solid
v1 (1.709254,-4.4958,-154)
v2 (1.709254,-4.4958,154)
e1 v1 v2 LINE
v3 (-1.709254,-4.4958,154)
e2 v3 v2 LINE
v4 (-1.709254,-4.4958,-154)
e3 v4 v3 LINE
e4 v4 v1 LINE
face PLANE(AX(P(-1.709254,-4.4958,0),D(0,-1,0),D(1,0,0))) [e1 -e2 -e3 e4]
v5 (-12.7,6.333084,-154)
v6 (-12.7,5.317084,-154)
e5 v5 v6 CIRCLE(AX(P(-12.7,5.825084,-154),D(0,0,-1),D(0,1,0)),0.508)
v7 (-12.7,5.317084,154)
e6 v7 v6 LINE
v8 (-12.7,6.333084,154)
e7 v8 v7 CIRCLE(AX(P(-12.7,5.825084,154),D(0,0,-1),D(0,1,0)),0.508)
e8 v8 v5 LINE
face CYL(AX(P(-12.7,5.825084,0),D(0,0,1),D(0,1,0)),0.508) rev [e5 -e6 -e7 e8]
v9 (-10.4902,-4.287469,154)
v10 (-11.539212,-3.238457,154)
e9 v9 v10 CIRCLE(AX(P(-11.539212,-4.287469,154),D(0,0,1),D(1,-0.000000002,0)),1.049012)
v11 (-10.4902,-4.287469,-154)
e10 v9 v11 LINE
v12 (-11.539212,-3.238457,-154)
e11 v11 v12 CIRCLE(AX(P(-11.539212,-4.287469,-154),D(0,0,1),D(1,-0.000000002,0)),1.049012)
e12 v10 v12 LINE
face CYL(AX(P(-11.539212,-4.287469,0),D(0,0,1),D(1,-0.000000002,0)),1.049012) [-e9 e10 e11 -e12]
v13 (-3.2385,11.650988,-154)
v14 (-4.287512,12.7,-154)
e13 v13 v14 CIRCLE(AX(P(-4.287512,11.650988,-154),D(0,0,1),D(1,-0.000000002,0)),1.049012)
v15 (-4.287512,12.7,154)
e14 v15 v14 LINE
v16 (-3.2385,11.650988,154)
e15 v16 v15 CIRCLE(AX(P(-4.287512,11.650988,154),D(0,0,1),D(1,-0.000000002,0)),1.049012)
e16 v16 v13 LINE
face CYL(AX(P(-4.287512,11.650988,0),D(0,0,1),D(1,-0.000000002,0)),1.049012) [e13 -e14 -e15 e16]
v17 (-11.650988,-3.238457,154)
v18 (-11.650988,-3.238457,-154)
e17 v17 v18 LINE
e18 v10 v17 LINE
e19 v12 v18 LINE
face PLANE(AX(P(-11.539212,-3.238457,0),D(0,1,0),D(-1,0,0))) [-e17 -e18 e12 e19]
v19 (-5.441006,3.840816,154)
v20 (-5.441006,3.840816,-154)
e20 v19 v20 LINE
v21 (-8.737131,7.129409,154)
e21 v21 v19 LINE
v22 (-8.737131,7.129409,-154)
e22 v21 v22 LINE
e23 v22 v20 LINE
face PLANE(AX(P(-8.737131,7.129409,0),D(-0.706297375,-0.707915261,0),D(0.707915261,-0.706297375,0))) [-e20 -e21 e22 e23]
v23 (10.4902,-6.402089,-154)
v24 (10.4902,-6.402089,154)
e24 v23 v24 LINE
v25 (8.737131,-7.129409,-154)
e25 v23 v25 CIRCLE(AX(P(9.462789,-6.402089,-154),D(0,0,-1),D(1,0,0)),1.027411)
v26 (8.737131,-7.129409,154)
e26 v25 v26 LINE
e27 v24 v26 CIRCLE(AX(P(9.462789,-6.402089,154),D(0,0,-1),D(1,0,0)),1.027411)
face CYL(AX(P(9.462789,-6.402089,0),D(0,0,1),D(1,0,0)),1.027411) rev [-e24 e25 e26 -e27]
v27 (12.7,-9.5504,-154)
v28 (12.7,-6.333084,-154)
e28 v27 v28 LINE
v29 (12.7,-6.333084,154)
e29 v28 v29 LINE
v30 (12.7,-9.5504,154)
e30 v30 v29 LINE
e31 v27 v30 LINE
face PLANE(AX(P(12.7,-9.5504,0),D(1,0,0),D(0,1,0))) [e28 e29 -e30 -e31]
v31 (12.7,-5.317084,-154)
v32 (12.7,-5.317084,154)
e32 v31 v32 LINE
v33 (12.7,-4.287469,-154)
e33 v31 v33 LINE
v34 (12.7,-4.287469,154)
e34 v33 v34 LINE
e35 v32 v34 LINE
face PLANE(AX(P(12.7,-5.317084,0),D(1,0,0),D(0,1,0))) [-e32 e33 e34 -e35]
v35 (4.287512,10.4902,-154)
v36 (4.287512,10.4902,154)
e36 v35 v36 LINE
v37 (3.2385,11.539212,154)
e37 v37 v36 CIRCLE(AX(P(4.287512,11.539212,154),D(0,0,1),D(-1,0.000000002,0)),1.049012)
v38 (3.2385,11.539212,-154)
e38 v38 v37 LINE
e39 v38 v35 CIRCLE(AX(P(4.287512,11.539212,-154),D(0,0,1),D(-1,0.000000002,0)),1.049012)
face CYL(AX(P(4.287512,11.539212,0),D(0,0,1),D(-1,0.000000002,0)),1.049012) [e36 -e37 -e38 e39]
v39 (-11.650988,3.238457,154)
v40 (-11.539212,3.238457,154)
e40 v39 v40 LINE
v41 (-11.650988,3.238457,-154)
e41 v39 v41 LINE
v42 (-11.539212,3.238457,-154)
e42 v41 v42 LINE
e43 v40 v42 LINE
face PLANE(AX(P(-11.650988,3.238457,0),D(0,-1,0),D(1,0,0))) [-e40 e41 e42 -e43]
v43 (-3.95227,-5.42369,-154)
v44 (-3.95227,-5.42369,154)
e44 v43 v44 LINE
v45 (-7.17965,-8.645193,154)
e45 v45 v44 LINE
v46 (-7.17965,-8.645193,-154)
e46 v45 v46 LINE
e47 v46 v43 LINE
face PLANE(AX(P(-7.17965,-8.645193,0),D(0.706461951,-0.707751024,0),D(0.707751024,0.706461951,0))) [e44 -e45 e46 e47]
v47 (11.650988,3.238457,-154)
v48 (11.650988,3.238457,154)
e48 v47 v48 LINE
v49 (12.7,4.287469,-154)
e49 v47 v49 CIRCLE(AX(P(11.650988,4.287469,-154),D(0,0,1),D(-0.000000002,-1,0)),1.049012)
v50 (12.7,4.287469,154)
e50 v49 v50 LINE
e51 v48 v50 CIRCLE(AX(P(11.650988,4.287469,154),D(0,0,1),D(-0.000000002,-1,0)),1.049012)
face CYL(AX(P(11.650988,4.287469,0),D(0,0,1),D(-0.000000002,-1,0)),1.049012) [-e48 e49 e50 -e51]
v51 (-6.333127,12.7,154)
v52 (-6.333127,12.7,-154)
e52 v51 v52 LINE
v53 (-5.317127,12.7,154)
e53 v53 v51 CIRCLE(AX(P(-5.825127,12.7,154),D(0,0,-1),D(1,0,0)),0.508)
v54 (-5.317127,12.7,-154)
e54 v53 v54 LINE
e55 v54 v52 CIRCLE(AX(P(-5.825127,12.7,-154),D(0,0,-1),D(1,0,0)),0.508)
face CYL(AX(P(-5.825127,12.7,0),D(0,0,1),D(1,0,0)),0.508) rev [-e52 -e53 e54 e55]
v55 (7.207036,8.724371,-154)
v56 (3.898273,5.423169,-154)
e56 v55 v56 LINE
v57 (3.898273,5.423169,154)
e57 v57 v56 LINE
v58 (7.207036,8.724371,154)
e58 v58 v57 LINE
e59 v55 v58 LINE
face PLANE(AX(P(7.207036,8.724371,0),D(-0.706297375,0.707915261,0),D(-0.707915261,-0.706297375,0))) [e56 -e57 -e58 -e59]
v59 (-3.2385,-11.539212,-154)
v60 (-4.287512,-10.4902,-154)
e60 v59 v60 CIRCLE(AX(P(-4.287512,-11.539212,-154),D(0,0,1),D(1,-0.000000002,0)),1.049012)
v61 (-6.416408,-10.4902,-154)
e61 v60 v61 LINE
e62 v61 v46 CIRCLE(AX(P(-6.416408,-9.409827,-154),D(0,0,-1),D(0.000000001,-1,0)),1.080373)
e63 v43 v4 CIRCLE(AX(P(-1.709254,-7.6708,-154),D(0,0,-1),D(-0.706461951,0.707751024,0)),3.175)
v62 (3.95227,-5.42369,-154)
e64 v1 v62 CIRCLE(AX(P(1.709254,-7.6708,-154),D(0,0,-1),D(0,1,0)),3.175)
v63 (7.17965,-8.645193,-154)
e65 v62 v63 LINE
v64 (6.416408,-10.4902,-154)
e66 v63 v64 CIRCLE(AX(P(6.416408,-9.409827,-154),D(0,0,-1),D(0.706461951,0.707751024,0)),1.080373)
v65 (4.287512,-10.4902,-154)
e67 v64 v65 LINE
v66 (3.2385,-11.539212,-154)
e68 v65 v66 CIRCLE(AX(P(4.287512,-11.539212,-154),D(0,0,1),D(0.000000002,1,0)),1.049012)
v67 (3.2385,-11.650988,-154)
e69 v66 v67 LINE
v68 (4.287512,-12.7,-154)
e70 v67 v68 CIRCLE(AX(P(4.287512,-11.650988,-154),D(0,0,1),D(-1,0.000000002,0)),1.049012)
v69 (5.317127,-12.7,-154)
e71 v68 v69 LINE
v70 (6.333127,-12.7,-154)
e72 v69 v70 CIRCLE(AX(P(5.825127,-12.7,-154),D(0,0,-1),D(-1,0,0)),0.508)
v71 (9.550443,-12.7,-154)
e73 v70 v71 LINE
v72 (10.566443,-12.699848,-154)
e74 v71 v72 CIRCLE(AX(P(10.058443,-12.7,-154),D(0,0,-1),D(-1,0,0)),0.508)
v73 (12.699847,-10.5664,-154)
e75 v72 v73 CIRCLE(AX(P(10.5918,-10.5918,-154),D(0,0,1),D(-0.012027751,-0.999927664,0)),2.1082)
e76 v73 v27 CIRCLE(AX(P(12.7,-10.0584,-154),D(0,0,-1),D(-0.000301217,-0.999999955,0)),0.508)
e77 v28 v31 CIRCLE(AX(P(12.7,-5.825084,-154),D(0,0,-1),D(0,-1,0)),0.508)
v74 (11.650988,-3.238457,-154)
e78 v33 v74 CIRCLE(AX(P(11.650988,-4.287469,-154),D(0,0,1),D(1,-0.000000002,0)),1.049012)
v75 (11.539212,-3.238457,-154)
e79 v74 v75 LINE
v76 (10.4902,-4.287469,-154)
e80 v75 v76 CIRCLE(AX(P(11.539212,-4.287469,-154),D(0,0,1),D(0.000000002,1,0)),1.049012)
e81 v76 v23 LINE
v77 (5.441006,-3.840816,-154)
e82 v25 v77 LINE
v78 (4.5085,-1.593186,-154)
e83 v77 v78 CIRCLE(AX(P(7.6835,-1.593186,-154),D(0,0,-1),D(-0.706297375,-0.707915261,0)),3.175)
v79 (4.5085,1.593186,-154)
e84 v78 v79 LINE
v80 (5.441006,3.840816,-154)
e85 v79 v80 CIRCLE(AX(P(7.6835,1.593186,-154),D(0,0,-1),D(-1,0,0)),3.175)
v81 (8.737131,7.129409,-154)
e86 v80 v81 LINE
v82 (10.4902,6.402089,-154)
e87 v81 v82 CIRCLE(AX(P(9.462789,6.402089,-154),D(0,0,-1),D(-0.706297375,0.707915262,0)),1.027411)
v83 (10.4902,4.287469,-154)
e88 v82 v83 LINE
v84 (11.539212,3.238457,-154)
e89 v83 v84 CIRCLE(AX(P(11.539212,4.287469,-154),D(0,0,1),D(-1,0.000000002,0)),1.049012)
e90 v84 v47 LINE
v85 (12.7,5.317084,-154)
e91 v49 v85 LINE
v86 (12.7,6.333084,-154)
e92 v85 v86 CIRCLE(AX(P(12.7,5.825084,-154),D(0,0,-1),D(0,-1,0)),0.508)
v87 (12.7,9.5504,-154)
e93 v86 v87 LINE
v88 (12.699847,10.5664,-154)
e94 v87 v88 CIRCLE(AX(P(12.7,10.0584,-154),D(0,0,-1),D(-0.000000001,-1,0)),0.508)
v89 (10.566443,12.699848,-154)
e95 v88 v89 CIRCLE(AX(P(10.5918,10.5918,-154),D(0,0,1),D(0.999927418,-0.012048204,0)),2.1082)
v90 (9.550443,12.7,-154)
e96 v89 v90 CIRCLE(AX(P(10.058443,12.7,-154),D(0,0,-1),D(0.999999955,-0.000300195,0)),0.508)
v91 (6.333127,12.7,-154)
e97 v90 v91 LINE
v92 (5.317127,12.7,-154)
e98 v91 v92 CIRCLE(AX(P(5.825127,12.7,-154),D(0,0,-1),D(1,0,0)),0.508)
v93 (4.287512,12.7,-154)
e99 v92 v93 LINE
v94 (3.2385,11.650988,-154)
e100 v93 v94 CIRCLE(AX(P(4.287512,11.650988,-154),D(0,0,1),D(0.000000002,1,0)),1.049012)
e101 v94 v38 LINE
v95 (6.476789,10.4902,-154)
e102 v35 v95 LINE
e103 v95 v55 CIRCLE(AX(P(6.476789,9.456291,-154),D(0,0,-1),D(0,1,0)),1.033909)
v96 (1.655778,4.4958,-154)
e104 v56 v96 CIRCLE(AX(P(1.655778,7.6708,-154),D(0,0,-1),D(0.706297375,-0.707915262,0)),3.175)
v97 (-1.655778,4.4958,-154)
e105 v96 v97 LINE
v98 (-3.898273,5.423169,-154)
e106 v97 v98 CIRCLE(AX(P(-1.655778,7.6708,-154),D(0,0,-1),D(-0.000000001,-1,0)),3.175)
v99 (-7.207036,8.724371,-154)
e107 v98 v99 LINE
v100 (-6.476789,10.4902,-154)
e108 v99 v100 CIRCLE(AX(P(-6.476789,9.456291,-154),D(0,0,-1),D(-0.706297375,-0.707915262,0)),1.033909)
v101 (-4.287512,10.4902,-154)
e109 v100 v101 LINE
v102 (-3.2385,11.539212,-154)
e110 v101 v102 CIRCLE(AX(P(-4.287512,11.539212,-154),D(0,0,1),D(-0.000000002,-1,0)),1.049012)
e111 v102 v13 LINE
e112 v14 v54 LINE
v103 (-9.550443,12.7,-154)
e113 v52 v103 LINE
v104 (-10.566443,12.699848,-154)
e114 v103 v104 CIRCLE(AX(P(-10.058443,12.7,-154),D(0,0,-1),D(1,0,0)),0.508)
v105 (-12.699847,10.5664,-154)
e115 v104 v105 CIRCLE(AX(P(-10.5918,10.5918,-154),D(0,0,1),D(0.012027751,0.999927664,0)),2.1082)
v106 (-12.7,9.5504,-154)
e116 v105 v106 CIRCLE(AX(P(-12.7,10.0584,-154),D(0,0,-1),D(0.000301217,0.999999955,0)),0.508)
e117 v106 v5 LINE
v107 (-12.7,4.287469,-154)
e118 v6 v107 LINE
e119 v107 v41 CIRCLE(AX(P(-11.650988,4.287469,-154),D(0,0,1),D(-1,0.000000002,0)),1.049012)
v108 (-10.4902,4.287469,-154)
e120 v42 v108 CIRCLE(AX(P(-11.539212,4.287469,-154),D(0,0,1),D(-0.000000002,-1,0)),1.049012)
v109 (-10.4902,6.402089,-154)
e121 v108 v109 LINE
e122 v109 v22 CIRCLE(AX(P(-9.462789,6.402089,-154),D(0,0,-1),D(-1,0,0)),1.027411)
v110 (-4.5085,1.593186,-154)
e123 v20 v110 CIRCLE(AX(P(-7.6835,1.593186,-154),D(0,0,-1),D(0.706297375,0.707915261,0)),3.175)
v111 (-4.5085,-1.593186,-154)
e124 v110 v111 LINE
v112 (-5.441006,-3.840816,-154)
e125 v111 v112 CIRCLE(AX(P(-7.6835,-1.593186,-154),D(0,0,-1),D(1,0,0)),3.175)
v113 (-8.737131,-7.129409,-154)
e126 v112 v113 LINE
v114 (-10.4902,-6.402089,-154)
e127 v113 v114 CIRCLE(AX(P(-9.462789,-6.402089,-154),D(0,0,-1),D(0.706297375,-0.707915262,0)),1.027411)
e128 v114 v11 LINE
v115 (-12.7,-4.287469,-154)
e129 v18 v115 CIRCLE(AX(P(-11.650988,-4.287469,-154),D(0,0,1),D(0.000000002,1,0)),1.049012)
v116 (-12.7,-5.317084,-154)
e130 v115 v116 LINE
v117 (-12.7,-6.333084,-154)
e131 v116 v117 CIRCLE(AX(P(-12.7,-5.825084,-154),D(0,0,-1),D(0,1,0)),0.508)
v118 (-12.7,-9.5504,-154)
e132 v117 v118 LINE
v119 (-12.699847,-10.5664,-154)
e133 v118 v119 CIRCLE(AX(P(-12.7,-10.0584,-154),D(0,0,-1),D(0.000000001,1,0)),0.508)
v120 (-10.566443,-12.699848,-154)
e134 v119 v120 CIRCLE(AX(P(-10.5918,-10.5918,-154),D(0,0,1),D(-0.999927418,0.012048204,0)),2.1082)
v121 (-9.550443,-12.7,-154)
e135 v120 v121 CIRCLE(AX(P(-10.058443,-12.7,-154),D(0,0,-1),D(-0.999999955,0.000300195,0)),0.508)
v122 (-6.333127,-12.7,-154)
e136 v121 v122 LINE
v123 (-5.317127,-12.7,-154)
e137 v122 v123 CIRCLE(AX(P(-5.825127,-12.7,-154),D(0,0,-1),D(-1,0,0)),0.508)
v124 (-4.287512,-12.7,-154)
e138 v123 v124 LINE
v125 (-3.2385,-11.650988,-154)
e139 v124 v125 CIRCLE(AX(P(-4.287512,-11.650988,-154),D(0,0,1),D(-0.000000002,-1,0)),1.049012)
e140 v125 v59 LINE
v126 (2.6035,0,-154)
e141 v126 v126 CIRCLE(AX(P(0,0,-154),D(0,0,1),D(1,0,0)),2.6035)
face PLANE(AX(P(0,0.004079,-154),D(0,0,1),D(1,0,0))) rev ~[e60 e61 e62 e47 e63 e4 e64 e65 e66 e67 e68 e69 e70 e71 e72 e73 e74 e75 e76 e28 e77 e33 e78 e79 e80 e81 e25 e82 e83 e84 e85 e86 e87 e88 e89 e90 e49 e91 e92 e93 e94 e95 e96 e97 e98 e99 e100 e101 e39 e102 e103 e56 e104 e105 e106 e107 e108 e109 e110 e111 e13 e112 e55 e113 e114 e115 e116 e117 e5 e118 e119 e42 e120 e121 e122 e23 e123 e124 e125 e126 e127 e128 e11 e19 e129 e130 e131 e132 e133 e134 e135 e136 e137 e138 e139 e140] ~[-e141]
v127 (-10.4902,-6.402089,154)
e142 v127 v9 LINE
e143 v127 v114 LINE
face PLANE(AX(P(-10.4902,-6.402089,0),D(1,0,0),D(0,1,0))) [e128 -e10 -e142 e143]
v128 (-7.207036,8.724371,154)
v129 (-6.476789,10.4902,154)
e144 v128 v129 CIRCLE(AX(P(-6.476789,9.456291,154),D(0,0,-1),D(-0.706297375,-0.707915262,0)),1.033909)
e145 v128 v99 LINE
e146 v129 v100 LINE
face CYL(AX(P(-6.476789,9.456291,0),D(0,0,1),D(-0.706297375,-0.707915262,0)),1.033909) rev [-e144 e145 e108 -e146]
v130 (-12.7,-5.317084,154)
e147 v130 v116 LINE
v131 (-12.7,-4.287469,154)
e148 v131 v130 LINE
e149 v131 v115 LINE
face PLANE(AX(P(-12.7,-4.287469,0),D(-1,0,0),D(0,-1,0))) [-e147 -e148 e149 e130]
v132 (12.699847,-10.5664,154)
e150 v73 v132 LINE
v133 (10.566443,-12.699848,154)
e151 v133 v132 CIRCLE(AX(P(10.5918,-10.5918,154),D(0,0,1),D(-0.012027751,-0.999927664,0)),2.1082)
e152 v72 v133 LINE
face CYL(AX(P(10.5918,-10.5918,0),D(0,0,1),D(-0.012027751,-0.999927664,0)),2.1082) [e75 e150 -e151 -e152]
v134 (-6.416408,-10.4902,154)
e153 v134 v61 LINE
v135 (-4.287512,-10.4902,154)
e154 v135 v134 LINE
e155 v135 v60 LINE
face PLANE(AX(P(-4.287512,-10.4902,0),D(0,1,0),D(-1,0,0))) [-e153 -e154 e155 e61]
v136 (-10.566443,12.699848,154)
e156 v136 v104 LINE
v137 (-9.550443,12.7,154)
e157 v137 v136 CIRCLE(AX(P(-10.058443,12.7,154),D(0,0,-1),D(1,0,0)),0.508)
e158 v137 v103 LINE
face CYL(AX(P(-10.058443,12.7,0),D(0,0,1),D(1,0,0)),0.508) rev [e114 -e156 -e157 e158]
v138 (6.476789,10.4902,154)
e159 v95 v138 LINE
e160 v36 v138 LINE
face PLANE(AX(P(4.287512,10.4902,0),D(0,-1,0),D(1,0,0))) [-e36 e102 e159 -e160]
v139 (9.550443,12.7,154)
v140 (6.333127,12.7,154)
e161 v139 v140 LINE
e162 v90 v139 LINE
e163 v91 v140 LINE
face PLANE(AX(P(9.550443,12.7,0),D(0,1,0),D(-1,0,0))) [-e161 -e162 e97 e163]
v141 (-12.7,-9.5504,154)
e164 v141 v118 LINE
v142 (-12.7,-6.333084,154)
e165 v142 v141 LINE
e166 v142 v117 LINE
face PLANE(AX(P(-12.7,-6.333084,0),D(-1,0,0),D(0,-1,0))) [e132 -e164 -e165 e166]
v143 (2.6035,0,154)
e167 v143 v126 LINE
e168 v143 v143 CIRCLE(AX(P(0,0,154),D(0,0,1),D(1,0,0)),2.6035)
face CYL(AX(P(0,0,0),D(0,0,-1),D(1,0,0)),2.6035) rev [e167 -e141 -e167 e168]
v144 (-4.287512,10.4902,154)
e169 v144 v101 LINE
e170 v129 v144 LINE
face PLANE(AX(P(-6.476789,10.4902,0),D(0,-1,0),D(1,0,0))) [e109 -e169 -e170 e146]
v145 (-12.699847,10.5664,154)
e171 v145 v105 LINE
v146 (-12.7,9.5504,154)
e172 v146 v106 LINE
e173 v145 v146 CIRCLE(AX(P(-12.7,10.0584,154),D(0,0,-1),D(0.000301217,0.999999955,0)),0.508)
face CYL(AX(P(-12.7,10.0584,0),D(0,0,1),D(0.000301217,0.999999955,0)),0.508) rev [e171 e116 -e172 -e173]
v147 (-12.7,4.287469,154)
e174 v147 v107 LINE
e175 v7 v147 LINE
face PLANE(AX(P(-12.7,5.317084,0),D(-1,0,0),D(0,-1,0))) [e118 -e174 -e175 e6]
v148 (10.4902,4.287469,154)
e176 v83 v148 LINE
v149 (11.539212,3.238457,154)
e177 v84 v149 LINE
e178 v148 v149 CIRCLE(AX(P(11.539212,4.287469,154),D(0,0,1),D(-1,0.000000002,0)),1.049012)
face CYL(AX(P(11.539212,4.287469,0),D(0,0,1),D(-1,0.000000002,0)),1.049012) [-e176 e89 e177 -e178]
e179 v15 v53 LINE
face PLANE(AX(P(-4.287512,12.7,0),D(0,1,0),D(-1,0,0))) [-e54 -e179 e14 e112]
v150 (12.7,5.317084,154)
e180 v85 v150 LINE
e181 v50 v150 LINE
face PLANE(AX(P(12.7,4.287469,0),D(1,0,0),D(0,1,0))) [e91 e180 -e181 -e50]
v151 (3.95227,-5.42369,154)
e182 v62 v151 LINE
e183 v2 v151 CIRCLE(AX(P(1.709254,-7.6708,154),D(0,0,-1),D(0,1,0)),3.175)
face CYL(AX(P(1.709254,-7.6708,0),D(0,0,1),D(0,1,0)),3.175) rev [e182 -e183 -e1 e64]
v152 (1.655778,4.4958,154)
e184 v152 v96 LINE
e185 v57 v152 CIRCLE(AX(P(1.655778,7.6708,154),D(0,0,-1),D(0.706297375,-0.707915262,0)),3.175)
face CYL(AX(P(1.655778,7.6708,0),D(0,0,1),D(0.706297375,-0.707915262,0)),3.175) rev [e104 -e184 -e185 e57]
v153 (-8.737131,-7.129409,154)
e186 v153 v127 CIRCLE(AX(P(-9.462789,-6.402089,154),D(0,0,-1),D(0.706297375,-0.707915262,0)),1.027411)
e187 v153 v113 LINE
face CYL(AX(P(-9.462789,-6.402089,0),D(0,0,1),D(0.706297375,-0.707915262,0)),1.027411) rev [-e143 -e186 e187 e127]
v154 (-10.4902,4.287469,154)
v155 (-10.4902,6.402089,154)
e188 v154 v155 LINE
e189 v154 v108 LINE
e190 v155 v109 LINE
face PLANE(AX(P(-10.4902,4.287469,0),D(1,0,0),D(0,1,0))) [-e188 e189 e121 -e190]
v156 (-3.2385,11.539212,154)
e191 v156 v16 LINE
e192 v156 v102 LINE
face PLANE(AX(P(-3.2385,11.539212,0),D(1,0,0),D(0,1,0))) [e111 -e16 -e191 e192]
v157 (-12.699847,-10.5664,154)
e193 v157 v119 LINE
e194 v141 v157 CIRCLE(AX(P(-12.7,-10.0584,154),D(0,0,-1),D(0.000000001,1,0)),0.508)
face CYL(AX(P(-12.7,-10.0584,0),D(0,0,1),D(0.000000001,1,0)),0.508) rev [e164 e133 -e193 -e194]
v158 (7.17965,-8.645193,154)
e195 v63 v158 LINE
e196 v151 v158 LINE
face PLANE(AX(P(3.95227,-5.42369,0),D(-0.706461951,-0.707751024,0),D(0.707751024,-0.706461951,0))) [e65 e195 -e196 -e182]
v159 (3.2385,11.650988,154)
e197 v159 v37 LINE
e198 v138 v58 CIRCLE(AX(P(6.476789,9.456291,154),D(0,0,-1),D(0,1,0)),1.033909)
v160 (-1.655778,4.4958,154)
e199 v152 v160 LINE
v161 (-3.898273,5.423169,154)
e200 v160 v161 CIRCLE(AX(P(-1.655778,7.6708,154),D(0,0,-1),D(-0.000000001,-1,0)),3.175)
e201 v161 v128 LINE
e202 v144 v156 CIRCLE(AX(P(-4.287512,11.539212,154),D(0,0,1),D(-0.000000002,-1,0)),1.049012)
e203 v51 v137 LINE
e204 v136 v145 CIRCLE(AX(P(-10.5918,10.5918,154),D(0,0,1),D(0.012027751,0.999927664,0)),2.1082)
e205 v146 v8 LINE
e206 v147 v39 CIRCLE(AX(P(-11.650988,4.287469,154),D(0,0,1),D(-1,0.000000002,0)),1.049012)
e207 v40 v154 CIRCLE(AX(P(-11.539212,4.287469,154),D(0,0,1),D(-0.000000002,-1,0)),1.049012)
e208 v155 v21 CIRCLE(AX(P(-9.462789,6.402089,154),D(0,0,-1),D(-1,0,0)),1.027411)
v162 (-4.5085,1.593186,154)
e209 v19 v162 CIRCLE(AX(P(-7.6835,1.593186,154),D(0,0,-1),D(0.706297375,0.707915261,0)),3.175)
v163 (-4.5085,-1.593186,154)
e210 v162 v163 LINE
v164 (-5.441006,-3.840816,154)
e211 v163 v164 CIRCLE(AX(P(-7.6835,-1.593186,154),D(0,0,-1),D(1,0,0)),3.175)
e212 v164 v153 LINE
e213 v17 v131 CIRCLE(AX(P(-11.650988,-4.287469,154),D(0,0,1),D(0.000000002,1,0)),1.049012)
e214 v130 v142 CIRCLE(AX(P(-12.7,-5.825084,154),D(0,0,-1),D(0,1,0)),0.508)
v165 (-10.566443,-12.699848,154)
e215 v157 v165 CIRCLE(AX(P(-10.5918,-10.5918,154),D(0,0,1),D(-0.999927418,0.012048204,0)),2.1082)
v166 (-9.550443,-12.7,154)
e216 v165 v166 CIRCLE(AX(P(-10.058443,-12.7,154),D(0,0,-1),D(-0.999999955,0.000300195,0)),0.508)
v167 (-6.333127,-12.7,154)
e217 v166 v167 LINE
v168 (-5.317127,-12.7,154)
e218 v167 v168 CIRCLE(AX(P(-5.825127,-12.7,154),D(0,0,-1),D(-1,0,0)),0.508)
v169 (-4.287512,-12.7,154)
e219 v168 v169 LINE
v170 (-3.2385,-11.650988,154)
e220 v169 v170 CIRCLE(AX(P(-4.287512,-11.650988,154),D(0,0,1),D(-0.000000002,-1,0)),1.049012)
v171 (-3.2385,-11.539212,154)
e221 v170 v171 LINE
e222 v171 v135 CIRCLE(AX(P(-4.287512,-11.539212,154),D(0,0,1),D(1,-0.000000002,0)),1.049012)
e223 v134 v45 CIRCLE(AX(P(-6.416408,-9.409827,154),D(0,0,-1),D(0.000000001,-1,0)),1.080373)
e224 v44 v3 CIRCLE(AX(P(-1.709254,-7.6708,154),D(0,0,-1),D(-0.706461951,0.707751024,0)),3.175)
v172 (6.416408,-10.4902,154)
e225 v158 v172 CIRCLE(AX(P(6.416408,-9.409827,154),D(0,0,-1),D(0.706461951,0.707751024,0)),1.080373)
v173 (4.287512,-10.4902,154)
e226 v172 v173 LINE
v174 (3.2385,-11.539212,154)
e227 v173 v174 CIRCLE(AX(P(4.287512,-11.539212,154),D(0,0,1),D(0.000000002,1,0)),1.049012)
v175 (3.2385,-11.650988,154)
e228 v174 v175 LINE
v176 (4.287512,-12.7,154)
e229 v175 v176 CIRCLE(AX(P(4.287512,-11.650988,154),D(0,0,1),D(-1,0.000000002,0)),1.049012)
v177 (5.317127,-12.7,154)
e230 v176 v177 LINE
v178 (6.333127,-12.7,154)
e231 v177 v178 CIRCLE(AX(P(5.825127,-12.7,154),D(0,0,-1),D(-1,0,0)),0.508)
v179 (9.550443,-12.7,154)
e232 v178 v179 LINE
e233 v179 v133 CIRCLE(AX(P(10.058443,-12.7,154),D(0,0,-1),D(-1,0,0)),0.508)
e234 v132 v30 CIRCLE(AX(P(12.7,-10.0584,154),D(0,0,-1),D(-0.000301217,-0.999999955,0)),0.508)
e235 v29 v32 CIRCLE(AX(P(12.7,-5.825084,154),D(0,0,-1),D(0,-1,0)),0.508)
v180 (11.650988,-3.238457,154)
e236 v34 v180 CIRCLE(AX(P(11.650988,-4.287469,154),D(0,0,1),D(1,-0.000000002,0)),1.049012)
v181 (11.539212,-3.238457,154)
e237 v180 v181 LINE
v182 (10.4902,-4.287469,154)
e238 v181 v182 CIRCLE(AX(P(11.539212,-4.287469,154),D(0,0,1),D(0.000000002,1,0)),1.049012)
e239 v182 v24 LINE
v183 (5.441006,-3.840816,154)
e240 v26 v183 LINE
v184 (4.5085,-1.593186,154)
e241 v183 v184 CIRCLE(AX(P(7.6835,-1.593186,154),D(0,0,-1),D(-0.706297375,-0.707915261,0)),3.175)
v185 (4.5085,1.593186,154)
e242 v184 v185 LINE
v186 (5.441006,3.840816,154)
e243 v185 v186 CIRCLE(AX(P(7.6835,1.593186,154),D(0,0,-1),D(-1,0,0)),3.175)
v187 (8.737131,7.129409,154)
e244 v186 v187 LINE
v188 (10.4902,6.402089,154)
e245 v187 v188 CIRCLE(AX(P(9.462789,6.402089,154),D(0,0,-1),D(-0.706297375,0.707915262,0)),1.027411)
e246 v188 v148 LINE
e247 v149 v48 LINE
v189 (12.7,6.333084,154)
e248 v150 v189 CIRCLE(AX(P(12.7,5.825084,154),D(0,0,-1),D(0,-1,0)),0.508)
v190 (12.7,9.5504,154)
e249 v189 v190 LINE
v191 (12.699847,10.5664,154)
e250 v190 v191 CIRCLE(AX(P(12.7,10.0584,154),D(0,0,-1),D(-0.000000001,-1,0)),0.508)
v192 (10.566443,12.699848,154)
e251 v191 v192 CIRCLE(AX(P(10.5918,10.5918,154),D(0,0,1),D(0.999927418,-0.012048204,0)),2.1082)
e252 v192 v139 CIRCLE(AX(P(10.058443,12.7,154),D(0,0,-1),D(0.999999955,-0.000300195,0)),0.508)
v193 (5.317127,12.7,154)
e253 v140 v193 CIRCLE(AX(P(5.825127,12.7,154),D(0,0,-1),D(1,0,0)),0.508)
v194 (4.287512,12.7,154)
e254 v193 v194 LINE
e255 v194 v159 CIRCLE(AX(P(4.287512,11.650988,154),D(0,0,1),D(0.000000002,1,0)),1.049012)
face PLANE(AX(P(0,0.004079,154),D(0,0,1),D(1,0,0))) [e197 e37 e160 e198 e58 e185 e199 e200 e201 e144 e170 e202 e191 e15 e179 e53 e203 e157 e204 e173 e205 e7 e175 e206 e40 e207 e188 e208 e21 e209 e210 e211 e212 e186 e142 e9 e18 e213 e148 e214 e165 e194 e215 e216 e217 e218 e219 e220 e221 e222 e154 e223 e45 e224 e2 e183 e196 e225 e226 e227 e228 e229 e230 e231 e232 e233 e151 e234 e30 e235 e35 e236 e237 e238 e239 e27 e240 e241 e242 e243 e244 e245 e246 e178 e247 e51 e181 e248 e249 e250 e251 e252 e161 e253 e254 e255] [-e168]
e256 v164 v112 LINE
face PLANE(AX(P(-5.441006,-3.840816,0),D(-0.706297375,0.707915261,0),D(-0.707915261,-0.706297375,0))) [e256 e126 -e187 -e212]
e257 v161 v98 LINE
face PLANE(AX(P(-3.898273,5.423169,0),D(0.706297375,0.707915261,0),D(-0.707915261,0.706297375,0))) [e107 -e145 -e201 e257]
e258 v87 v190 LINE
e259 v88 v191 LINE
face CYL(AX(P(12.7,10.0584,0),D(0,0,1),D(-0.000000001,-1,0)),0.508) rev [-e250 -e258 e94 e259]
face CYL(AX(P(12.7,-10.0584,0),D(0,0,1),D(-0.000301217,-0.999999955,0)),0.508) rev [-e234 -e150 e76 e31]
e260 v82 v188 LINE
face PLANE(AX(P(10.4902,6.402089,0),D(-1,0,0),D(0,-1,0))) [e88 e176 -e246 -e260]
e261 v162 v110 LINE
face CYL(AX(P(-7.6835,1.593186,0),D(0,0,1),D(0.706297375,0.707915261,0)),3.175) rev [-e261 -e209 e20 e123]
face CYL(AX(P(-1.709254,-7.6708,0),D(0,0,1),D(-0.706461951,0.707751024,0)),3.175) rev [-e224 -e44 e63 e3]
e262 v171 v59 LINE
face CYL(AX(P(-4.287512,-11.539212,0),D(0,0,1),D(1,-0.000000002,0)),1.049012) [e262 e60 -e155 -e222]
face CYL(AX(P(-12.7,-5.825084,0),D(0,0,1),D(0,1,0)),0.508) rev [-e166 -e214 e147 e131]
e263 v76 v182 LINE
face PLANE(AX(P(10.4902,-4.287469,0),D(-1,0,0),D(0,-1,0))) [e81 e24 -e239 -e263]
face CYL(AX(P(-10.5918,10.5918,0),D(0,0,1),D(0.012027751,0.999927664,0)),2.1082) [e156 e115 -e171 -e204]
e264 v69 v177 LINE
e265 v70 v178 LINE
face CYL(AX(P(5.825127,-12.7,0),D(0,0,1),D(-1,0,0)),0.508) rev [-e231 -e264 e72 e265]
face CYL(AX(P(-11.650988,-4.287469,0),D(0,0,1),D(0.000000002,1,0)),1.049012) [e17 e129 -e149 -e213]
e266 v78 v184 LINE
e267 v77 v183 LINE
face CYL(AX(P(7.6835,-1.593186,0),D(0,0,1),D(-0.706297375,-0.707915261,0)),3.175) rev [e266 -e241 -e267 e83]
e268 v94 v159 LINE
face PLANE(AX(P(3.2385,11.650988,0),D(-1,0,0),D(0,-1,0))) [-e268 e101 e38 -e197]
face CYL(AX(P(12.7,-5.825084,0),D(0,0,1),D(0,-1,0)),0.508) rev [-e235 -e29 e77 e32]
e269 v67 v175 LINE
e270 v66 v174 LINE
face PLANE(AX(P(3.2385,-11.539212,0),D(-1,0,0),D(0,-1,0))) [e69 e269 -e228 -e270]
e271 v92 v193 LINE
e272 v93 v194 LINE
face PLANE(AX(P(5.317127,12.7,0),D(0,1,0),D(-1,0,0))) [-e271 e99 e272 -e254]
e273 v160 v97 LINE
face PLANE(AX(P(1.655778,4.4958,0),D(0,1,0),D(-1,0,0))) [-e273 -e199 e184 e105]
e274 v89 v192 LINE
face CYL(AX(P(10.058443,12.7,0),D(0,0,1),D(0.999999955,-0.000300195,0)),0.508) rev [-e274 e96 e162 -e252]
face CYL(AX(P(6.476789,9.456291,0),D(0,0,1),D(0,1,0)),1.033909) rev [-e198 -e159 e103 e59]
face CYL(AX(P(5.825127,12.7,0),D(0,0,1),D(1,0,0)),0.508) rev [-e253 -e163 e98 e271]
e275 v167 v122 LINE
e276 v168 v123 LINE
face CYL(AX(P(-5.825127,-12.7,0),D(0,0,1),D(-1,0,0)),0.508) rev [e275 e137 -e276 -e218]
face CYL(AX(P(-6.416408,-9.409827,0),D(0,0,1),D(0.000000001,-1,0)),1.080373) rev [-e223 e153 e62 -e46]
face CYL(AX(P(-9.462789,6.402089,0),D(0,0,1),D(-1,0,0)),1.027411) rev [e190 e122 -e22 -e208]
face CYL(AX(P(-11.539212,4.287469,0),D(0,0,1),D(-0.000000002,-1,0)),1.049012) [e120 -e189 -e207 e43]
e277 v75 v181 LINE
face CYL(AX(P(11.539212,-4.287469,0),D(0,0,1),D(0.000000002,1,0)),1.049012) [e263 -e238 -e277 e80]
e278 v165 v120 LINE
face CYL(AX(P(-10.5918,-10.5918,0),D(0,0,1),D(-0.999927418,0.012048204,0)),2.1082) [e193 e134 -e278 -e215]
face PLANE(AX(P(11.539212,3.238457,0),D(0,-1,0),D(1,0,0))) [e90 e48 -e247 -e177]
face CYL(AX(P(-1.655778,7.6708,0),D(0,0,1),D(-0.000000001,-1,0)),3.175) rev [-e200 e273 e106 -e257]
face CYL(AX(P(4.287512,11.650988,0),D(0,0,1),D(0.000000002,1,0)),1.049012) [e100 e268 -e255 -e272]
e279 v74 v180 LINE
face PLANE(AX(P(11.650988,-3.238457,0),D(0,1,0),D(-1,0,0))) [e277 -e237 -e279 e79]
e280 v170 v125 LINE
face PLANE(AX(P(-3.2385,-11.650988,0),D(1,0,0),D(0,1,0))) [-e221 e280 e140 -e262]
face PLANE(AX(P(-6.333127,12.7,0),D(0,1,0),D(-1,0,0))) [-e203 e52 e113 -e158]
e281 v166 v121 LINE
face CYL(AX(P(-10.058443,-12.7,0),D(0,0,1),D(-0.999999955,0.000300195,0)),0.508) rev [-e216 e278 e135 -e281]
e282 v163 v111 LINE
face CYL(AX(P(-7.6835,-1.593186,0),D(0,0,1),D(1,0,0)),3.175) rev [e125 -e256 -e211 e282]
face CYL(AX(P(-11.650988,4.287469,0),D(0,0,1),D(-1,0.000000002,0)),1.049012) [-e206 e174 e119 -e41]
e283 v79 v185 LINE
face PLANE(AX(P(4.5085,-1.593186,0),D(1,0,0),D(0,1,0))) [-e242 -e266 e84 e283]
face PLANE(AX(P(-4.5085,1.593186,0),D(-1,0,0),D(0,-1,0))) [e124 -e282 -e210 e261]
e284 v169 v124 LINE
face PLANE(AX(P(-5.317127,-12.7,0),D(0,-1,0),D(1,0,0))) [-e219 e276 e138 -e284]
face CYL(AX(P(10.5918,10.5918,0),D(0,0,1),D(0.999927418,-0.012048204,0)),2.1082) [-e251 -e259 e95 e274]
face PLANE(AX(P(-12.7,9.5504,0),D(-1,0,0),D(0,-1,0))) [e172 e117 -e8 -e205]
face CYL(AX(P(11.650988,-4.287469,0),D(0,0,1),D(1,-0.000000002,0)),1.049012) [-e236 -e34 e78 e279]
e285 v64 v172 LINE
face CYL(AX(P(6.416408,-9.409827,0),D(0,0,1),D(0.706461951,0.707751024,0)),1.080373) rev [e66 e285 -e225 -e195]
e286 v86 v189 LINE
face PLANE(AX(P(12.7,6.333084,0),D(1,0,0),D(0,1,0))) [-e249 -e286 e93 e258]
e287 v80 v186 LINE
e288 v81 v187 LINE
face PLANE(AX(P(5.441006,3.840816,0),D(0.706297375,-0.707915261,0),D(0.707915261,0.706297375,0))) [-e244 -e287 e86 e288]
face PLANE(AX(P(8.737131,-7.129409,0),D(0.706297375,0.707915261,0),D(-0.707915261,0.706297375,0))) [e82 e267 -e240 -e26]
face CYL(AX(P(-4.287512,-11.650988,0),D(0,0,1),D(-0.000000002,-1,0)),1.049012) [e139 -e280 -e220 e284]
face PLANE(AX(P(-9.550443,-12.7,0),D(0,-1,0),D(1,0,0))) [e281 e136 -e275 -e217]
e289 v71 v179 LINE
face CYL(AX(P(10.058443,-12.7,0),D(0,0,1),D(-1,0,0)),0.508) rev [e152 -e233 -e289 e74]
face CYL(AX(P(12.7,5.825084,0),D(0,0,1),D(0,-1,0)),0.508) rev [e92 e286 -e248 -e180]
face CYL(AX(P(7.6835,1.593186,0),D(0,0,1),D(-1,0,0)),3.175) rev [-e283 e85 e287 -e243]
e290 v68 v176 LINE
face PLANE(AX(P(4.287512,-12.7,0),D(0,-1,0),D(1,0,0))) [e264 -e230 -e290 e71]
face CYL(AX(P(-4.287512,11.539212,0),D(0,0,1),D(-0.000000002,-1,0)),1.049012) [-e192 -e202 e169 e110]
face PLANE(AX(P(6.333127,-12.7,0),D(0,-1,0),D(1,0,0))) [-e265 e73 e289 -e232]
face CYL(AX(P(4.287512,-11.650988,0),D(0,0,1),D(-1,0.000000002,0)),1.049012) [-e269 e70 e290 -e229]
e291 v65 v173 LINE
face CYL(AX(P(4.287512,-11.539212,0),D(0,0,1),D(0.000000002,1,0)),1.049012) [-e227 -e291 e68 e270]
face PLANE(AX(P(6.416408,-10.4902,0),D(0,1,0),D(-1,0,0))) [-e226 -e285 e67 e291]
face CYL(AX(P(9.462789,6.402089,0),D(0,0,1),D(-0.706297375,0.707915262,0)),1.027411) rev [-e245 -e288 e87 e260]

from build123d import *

# Parameters (mm, degrees)
SKETCH1_R           = 2.6035
BOSS_EXTRUDE1_DEPTH = 154


with BuildPart() as part:
    # Sketch1 → Boss-Extrude1 (new body, symmetric)
    with BuildSketch(Plane.XY):
        with BuildLine():
            Line((-7.179650497, -8.645192506), (-3.952270251, -5.423690499))
            ThreePointArc((-3.952270251, -5.423690499), (-2.922936451, -4.736929036), (-1.709253557, -4.4958))
            Line((-1.709253557, -4.4958), (1.709253557, -4.4958))
            ThreePointArc((1.709253557, -4.4958), (2.922936451, -4.736929036), (3.952270251, -5.423690499))
            Line((3.952270251, -5.423690499), (7.179650497, -8.645192506))
            ThreePointArc((7.179650497, -8.645192506), (7.41473083, -9.822813117), (6.416408329, -10.4902))
            Line((6.416408329, -10.4902), (4.287512407, -10.4902))
            ThreePointArc((4.287512407, -10.4902), (3.54574862, -10.79744862), (3.2385, -11.539212407))
            Line((3.2385, -11.539212407), (3.2385, -11.650987593))
            ThreePointArc((3.2385, -11.650987593), (3.54574862, -12.39275138), (4.287512407, -12.7))
            Line((4.287512407, -12.7), (5.317126718, -12.7))
            ThreePointArc((5.317126718, -12.7), (5.825126718, -12.192), (6.333126718, -12.7))
            Line((6.333126718, -12.7), (9.550443118, -12.7))
            ThreePointArc((9.550443118, -12.7), (10.058366869, -12.192000006), (10.566443095, -12.699847501))
            ThreePointArc((10.566443095, -12.699847501), (12.082537762, -12.08250727), (12.699846982, -10.566399977))
            ThreePointArc((12.699846982, -10.566399977), (12.192000006, -10.058323491), (12.7, -9.5504))
            Line((12.7, -9.5504), (12.7, -6.3330836))
            ThreePointArc((12.7, -6.3330836), (12.192, -5.8250836), (12.7, -5.3170836))
            Line((12.7, -5.3170836), (12.7, -4.287469289))
            ThreePointArc((12.7, -4.287469289), (12.39275138, -3.545705502), (11.650987593, -3.238456882))
            Line((11.650987593, -3.238456882), (11.539212407, -3.238456882))
            ThreePointArc((11.539212407, -3.238456882), (10.79744862, -3.545705502), (10.4902, -4.287469289))
            Line((10.4902, -4.287469289), (10.4902, -6.402089023))
            ThreePointArc((10.4902, -6.402089023), (9.856505071, -7.351067942), (8.737131347, -7.129408934))
            Line((8.737131347, -7.129408934), (5.441005833, -3.840816462))
            ThreePointArc((5.441005833, -3.840816462), (4.750877967, -2.809883091), (4.5085, -1.593185507))
            Line((4.5085, -1.593185507), (4.5085, 1.593185507))
            ThreePointArc((4.5085, 1.593185507), (4.750877967, 2.809883091), (5.441005833, 3.840816462))
            Line((5.441005833, 3.840816462), (8.737131347, 7.129408934))
            ThreePointArc((8.737131347, 7.129408934), (9.856505071, 7.351067942), (10.4902, 6.402089023))
            Line((10.4902, 6.402089023), (10.4902, 4.287469289))
            ThreePointArc((10.4902, 4.287469289), (10.79744862, 3.545705502), (11.539212407, 3.238456882))
            Line((11.539212407, 3.238456882), (11.650987593, 3.238456882))
            ThreePointArc((11.650987593, 3.238456882), (12.39275138, 3.545705502), (12.7, 4.287469289))
            Line((12.7, 4.287469289), (12.7, 5.3170836))
            ThreePointArc((12.7, 5.3170836), (12.192, 5.8250836), (12.7, 6.3330836))
            Line((12.7, 6.3330836), (12.7, 9.5504))
            ThreePointArc((12.7, 9.5504), (12.192000006, 10.058323491), (12.699846982, 10.566399977))
            ThreePointArc((12.699846982, 10.566399977), (12.082537762, 12.08250727), (10.566443095, 12.699847501))
            ThreePointArc((10.566443095, 12.699847501), (10.058366869, 12.192000006), (9.550443118, 12.7))
            Line((9.550443118, 12.7), (6.333126718, 12.7))
            ThreePointArc((6.333126718, 12.7), (5.825126718, 12.192), (5.317126718, 12.7))
            Line((5.317126718, 12.7), (4.287512407, 12.7))
            ThreePointArc((4.287512407, 12.7), (3.54574862, 12.39275138), (3.2385, 11.650987593))
            Line((3.2385, 11.650987593), (3.2385, 11.539212407))
            ThreePointArc((3.2385, 11.539212407), (3.54574862, 10.79744862), (4.287512407, 10.4902))
            Line((4.287512407, 10.4902), (6.476788598, 10.4902))
            ThreePointArc((6.476788598, 10.4902), (7.432222385, 9.85140422), (7.207036008, 8.724370562))
            Line((7.207036008, 8.724370562), (3.898272566, 5.423169045))
            ThreePointArc((3.898272566, 5.423169045), (2.869120213, 4.736787962), (1.655778399, 4.4958))
            Line((1.655778399, 4.4958), (-1.655778399, 4.4958))
            ThreePointArc((-1.655778399, 4.4958), (-2.869120213, 4.736787962), (-3.898272566, 5.423169045))
            Line((-3.898272566, 5.423169045), (-7.207036008, 8.724370562))
            ThreePointArc((-7.207036008, 8.724370562), (-7.432222385, 9.85140422), (-6.476788598, 10.4902))
            Line((-6.476788598, 10.4902), (-4.287512407, 10.4902))
            ThreePointArc((-4.287512407, 10.4902), (-3.54574862, 10.79744862), (-3.2385, 11.539212407))
            Line((-3.2385, 11.539212407), (-3.2385, 11.650987593))
            ThreePointArc((-3.2385, 11.650987593), (-3.54574862, 12.39275138), (-4.287512407, 12.7))
            Line((-4.287512407, 12.7), (-5.317126718, 12.7))
            ThreePointArc((-5.317126718, 12.7), (-5.825126718, 12.192), (-6.333126718, 12.7))
            Line((-6.333126718, 12.7), (-9.550443118, 12.7))
            ThreePointArc((-9.550443118, 12.7), (-10.058366869, 12.192000006), (-10.566443095, 12.699847501))
            ThreePointArc((-10.566443095, 12.699847501), (-12.082537762, 12.08250727), (-12.699846982, 10.566399977))
            ThreePointArc((-12.699846982, 10.566399977), (-12.192000006, 10.058323491), (-12.7, 9.5504))
            Line((-12.7, 9.5504), (-12.7, 6.3330836))
            ThreePointArc((-12.7, 6.3330836), (-12.192, 5.8250836), (-12.7, 5.3170836))
            Line((-12.7, 5.3170836), (-12.7, 4.287469289))
            ThreePointArc((-12.7, 4.287469289), (-12.39275138, 3.545705502), (-11.650987593, 3.238456882))
            Line((-11.650987593, 3.238456882), (-11.539212407, 3.238456882))
            ThreePointArc((-11.539212407, 3.238456882), (-10.79744862, 3.545705502), (-10.4902, 4.287469289))
            Line((-10.4902, 4.287469289), (-10.4902, 6.402089023))
            ThreePointArc((-10.4902, 6.402089023), (-9.856505071, 7.351067942), (-8.737131347, 7.129408934))
            Line((-8.737131347, 7.129408934), (-5.441005833, 3.840816462))
            ThreePointArc((-5.441005833, 3.840816462), (-4.750877967, 2.809883091), (-4.5085, 1.593185507))
            Line((-4.5085, 1.593185507), (-4.5085, -1.593185507))
            ThreePointArc((-4.5085, -1.593185507), (-4.750877967, -2.809883091), (-5.441005833, -3.840816462))
            Line((-5.441005833, -3.840816462), (-8.737131347, -7.129408934))
            ThreePointArc((-8.737131347, -7.129408934), (-9.856505071, -7.351067942), (-10.4902, -6.402089023))
            Line((-10.4902, -6.402089023), (-10.4902, -4.287469289))
            ThreePointArc((-10.4902, -4.287469289), (-10.79744862, -3.545705502), (-11.539212407, -3.238456882))
            Line((-11.539212407, -3.238456882), (-11.650987593, -3.238456882))
            ThreePointArc((-11.650987593, -3.238456882), (-12.39275138, -3.545705502), (-12.7, -4.287469289))
            Line((-12.7, -4.287469289), (-12.7, -5.3170836))
            ThreePointArc((-12.7, -5.3170836), (-12.192, -5.8250836), (-12.7, -6.3330836))
            Line((-12.7, -6.3330836), (-12.7, -9.5504))
            ThreePointArc((-12.7, -9.5504), (-12.192000006, -10.058323491), (-12.699846982, -10.566399977))
            ThreePointArc((-12.699846982, -10.566399977), (-12.082537762, -12.08250727), (-10.566443095, -12.699847501))
            ThreePointArc((-10.566443095, -12.699847501), (-10.058366869, -12.192000006), (-9.550443118, -12.7))
            Line((-9.550443118, -12.7), (-6.333126718, -12.7))
            ThreePointArc((-6.333126718, -12.7), (-5.825126718, -12.192), (-5.317126718, -12.7))
            Line((-5.317126718, -12.7), (-4.287512407, -12.7))
            ThreePointArc((-4.287512407, -12.7), (-3.54574862, -12.39275138), (-3.2385, -11.650987593))
            Line((-3.2385, -11.650987593), (-3.2385, -11.539212407))
            ThreePointArc((-3.2385, -11.539212407), (-3.54574862, -10.79744862), (-4.287512407, -10.4902))
            Line((-4.287512407, -10.4902), (-6.416408329, -10.4902))
            ThreePointArc((-6.416408329, -10.4902), (-7.41473083, -9.822813117), (-7.179650497, -8.645192506))
        make_face()
        Circle(SKETCH1_R, mode=Mode.SUBTRACT)
    extrude(amount=BOSS_EXTRUDE1_DEPTH, both=True)


solid = part.part
